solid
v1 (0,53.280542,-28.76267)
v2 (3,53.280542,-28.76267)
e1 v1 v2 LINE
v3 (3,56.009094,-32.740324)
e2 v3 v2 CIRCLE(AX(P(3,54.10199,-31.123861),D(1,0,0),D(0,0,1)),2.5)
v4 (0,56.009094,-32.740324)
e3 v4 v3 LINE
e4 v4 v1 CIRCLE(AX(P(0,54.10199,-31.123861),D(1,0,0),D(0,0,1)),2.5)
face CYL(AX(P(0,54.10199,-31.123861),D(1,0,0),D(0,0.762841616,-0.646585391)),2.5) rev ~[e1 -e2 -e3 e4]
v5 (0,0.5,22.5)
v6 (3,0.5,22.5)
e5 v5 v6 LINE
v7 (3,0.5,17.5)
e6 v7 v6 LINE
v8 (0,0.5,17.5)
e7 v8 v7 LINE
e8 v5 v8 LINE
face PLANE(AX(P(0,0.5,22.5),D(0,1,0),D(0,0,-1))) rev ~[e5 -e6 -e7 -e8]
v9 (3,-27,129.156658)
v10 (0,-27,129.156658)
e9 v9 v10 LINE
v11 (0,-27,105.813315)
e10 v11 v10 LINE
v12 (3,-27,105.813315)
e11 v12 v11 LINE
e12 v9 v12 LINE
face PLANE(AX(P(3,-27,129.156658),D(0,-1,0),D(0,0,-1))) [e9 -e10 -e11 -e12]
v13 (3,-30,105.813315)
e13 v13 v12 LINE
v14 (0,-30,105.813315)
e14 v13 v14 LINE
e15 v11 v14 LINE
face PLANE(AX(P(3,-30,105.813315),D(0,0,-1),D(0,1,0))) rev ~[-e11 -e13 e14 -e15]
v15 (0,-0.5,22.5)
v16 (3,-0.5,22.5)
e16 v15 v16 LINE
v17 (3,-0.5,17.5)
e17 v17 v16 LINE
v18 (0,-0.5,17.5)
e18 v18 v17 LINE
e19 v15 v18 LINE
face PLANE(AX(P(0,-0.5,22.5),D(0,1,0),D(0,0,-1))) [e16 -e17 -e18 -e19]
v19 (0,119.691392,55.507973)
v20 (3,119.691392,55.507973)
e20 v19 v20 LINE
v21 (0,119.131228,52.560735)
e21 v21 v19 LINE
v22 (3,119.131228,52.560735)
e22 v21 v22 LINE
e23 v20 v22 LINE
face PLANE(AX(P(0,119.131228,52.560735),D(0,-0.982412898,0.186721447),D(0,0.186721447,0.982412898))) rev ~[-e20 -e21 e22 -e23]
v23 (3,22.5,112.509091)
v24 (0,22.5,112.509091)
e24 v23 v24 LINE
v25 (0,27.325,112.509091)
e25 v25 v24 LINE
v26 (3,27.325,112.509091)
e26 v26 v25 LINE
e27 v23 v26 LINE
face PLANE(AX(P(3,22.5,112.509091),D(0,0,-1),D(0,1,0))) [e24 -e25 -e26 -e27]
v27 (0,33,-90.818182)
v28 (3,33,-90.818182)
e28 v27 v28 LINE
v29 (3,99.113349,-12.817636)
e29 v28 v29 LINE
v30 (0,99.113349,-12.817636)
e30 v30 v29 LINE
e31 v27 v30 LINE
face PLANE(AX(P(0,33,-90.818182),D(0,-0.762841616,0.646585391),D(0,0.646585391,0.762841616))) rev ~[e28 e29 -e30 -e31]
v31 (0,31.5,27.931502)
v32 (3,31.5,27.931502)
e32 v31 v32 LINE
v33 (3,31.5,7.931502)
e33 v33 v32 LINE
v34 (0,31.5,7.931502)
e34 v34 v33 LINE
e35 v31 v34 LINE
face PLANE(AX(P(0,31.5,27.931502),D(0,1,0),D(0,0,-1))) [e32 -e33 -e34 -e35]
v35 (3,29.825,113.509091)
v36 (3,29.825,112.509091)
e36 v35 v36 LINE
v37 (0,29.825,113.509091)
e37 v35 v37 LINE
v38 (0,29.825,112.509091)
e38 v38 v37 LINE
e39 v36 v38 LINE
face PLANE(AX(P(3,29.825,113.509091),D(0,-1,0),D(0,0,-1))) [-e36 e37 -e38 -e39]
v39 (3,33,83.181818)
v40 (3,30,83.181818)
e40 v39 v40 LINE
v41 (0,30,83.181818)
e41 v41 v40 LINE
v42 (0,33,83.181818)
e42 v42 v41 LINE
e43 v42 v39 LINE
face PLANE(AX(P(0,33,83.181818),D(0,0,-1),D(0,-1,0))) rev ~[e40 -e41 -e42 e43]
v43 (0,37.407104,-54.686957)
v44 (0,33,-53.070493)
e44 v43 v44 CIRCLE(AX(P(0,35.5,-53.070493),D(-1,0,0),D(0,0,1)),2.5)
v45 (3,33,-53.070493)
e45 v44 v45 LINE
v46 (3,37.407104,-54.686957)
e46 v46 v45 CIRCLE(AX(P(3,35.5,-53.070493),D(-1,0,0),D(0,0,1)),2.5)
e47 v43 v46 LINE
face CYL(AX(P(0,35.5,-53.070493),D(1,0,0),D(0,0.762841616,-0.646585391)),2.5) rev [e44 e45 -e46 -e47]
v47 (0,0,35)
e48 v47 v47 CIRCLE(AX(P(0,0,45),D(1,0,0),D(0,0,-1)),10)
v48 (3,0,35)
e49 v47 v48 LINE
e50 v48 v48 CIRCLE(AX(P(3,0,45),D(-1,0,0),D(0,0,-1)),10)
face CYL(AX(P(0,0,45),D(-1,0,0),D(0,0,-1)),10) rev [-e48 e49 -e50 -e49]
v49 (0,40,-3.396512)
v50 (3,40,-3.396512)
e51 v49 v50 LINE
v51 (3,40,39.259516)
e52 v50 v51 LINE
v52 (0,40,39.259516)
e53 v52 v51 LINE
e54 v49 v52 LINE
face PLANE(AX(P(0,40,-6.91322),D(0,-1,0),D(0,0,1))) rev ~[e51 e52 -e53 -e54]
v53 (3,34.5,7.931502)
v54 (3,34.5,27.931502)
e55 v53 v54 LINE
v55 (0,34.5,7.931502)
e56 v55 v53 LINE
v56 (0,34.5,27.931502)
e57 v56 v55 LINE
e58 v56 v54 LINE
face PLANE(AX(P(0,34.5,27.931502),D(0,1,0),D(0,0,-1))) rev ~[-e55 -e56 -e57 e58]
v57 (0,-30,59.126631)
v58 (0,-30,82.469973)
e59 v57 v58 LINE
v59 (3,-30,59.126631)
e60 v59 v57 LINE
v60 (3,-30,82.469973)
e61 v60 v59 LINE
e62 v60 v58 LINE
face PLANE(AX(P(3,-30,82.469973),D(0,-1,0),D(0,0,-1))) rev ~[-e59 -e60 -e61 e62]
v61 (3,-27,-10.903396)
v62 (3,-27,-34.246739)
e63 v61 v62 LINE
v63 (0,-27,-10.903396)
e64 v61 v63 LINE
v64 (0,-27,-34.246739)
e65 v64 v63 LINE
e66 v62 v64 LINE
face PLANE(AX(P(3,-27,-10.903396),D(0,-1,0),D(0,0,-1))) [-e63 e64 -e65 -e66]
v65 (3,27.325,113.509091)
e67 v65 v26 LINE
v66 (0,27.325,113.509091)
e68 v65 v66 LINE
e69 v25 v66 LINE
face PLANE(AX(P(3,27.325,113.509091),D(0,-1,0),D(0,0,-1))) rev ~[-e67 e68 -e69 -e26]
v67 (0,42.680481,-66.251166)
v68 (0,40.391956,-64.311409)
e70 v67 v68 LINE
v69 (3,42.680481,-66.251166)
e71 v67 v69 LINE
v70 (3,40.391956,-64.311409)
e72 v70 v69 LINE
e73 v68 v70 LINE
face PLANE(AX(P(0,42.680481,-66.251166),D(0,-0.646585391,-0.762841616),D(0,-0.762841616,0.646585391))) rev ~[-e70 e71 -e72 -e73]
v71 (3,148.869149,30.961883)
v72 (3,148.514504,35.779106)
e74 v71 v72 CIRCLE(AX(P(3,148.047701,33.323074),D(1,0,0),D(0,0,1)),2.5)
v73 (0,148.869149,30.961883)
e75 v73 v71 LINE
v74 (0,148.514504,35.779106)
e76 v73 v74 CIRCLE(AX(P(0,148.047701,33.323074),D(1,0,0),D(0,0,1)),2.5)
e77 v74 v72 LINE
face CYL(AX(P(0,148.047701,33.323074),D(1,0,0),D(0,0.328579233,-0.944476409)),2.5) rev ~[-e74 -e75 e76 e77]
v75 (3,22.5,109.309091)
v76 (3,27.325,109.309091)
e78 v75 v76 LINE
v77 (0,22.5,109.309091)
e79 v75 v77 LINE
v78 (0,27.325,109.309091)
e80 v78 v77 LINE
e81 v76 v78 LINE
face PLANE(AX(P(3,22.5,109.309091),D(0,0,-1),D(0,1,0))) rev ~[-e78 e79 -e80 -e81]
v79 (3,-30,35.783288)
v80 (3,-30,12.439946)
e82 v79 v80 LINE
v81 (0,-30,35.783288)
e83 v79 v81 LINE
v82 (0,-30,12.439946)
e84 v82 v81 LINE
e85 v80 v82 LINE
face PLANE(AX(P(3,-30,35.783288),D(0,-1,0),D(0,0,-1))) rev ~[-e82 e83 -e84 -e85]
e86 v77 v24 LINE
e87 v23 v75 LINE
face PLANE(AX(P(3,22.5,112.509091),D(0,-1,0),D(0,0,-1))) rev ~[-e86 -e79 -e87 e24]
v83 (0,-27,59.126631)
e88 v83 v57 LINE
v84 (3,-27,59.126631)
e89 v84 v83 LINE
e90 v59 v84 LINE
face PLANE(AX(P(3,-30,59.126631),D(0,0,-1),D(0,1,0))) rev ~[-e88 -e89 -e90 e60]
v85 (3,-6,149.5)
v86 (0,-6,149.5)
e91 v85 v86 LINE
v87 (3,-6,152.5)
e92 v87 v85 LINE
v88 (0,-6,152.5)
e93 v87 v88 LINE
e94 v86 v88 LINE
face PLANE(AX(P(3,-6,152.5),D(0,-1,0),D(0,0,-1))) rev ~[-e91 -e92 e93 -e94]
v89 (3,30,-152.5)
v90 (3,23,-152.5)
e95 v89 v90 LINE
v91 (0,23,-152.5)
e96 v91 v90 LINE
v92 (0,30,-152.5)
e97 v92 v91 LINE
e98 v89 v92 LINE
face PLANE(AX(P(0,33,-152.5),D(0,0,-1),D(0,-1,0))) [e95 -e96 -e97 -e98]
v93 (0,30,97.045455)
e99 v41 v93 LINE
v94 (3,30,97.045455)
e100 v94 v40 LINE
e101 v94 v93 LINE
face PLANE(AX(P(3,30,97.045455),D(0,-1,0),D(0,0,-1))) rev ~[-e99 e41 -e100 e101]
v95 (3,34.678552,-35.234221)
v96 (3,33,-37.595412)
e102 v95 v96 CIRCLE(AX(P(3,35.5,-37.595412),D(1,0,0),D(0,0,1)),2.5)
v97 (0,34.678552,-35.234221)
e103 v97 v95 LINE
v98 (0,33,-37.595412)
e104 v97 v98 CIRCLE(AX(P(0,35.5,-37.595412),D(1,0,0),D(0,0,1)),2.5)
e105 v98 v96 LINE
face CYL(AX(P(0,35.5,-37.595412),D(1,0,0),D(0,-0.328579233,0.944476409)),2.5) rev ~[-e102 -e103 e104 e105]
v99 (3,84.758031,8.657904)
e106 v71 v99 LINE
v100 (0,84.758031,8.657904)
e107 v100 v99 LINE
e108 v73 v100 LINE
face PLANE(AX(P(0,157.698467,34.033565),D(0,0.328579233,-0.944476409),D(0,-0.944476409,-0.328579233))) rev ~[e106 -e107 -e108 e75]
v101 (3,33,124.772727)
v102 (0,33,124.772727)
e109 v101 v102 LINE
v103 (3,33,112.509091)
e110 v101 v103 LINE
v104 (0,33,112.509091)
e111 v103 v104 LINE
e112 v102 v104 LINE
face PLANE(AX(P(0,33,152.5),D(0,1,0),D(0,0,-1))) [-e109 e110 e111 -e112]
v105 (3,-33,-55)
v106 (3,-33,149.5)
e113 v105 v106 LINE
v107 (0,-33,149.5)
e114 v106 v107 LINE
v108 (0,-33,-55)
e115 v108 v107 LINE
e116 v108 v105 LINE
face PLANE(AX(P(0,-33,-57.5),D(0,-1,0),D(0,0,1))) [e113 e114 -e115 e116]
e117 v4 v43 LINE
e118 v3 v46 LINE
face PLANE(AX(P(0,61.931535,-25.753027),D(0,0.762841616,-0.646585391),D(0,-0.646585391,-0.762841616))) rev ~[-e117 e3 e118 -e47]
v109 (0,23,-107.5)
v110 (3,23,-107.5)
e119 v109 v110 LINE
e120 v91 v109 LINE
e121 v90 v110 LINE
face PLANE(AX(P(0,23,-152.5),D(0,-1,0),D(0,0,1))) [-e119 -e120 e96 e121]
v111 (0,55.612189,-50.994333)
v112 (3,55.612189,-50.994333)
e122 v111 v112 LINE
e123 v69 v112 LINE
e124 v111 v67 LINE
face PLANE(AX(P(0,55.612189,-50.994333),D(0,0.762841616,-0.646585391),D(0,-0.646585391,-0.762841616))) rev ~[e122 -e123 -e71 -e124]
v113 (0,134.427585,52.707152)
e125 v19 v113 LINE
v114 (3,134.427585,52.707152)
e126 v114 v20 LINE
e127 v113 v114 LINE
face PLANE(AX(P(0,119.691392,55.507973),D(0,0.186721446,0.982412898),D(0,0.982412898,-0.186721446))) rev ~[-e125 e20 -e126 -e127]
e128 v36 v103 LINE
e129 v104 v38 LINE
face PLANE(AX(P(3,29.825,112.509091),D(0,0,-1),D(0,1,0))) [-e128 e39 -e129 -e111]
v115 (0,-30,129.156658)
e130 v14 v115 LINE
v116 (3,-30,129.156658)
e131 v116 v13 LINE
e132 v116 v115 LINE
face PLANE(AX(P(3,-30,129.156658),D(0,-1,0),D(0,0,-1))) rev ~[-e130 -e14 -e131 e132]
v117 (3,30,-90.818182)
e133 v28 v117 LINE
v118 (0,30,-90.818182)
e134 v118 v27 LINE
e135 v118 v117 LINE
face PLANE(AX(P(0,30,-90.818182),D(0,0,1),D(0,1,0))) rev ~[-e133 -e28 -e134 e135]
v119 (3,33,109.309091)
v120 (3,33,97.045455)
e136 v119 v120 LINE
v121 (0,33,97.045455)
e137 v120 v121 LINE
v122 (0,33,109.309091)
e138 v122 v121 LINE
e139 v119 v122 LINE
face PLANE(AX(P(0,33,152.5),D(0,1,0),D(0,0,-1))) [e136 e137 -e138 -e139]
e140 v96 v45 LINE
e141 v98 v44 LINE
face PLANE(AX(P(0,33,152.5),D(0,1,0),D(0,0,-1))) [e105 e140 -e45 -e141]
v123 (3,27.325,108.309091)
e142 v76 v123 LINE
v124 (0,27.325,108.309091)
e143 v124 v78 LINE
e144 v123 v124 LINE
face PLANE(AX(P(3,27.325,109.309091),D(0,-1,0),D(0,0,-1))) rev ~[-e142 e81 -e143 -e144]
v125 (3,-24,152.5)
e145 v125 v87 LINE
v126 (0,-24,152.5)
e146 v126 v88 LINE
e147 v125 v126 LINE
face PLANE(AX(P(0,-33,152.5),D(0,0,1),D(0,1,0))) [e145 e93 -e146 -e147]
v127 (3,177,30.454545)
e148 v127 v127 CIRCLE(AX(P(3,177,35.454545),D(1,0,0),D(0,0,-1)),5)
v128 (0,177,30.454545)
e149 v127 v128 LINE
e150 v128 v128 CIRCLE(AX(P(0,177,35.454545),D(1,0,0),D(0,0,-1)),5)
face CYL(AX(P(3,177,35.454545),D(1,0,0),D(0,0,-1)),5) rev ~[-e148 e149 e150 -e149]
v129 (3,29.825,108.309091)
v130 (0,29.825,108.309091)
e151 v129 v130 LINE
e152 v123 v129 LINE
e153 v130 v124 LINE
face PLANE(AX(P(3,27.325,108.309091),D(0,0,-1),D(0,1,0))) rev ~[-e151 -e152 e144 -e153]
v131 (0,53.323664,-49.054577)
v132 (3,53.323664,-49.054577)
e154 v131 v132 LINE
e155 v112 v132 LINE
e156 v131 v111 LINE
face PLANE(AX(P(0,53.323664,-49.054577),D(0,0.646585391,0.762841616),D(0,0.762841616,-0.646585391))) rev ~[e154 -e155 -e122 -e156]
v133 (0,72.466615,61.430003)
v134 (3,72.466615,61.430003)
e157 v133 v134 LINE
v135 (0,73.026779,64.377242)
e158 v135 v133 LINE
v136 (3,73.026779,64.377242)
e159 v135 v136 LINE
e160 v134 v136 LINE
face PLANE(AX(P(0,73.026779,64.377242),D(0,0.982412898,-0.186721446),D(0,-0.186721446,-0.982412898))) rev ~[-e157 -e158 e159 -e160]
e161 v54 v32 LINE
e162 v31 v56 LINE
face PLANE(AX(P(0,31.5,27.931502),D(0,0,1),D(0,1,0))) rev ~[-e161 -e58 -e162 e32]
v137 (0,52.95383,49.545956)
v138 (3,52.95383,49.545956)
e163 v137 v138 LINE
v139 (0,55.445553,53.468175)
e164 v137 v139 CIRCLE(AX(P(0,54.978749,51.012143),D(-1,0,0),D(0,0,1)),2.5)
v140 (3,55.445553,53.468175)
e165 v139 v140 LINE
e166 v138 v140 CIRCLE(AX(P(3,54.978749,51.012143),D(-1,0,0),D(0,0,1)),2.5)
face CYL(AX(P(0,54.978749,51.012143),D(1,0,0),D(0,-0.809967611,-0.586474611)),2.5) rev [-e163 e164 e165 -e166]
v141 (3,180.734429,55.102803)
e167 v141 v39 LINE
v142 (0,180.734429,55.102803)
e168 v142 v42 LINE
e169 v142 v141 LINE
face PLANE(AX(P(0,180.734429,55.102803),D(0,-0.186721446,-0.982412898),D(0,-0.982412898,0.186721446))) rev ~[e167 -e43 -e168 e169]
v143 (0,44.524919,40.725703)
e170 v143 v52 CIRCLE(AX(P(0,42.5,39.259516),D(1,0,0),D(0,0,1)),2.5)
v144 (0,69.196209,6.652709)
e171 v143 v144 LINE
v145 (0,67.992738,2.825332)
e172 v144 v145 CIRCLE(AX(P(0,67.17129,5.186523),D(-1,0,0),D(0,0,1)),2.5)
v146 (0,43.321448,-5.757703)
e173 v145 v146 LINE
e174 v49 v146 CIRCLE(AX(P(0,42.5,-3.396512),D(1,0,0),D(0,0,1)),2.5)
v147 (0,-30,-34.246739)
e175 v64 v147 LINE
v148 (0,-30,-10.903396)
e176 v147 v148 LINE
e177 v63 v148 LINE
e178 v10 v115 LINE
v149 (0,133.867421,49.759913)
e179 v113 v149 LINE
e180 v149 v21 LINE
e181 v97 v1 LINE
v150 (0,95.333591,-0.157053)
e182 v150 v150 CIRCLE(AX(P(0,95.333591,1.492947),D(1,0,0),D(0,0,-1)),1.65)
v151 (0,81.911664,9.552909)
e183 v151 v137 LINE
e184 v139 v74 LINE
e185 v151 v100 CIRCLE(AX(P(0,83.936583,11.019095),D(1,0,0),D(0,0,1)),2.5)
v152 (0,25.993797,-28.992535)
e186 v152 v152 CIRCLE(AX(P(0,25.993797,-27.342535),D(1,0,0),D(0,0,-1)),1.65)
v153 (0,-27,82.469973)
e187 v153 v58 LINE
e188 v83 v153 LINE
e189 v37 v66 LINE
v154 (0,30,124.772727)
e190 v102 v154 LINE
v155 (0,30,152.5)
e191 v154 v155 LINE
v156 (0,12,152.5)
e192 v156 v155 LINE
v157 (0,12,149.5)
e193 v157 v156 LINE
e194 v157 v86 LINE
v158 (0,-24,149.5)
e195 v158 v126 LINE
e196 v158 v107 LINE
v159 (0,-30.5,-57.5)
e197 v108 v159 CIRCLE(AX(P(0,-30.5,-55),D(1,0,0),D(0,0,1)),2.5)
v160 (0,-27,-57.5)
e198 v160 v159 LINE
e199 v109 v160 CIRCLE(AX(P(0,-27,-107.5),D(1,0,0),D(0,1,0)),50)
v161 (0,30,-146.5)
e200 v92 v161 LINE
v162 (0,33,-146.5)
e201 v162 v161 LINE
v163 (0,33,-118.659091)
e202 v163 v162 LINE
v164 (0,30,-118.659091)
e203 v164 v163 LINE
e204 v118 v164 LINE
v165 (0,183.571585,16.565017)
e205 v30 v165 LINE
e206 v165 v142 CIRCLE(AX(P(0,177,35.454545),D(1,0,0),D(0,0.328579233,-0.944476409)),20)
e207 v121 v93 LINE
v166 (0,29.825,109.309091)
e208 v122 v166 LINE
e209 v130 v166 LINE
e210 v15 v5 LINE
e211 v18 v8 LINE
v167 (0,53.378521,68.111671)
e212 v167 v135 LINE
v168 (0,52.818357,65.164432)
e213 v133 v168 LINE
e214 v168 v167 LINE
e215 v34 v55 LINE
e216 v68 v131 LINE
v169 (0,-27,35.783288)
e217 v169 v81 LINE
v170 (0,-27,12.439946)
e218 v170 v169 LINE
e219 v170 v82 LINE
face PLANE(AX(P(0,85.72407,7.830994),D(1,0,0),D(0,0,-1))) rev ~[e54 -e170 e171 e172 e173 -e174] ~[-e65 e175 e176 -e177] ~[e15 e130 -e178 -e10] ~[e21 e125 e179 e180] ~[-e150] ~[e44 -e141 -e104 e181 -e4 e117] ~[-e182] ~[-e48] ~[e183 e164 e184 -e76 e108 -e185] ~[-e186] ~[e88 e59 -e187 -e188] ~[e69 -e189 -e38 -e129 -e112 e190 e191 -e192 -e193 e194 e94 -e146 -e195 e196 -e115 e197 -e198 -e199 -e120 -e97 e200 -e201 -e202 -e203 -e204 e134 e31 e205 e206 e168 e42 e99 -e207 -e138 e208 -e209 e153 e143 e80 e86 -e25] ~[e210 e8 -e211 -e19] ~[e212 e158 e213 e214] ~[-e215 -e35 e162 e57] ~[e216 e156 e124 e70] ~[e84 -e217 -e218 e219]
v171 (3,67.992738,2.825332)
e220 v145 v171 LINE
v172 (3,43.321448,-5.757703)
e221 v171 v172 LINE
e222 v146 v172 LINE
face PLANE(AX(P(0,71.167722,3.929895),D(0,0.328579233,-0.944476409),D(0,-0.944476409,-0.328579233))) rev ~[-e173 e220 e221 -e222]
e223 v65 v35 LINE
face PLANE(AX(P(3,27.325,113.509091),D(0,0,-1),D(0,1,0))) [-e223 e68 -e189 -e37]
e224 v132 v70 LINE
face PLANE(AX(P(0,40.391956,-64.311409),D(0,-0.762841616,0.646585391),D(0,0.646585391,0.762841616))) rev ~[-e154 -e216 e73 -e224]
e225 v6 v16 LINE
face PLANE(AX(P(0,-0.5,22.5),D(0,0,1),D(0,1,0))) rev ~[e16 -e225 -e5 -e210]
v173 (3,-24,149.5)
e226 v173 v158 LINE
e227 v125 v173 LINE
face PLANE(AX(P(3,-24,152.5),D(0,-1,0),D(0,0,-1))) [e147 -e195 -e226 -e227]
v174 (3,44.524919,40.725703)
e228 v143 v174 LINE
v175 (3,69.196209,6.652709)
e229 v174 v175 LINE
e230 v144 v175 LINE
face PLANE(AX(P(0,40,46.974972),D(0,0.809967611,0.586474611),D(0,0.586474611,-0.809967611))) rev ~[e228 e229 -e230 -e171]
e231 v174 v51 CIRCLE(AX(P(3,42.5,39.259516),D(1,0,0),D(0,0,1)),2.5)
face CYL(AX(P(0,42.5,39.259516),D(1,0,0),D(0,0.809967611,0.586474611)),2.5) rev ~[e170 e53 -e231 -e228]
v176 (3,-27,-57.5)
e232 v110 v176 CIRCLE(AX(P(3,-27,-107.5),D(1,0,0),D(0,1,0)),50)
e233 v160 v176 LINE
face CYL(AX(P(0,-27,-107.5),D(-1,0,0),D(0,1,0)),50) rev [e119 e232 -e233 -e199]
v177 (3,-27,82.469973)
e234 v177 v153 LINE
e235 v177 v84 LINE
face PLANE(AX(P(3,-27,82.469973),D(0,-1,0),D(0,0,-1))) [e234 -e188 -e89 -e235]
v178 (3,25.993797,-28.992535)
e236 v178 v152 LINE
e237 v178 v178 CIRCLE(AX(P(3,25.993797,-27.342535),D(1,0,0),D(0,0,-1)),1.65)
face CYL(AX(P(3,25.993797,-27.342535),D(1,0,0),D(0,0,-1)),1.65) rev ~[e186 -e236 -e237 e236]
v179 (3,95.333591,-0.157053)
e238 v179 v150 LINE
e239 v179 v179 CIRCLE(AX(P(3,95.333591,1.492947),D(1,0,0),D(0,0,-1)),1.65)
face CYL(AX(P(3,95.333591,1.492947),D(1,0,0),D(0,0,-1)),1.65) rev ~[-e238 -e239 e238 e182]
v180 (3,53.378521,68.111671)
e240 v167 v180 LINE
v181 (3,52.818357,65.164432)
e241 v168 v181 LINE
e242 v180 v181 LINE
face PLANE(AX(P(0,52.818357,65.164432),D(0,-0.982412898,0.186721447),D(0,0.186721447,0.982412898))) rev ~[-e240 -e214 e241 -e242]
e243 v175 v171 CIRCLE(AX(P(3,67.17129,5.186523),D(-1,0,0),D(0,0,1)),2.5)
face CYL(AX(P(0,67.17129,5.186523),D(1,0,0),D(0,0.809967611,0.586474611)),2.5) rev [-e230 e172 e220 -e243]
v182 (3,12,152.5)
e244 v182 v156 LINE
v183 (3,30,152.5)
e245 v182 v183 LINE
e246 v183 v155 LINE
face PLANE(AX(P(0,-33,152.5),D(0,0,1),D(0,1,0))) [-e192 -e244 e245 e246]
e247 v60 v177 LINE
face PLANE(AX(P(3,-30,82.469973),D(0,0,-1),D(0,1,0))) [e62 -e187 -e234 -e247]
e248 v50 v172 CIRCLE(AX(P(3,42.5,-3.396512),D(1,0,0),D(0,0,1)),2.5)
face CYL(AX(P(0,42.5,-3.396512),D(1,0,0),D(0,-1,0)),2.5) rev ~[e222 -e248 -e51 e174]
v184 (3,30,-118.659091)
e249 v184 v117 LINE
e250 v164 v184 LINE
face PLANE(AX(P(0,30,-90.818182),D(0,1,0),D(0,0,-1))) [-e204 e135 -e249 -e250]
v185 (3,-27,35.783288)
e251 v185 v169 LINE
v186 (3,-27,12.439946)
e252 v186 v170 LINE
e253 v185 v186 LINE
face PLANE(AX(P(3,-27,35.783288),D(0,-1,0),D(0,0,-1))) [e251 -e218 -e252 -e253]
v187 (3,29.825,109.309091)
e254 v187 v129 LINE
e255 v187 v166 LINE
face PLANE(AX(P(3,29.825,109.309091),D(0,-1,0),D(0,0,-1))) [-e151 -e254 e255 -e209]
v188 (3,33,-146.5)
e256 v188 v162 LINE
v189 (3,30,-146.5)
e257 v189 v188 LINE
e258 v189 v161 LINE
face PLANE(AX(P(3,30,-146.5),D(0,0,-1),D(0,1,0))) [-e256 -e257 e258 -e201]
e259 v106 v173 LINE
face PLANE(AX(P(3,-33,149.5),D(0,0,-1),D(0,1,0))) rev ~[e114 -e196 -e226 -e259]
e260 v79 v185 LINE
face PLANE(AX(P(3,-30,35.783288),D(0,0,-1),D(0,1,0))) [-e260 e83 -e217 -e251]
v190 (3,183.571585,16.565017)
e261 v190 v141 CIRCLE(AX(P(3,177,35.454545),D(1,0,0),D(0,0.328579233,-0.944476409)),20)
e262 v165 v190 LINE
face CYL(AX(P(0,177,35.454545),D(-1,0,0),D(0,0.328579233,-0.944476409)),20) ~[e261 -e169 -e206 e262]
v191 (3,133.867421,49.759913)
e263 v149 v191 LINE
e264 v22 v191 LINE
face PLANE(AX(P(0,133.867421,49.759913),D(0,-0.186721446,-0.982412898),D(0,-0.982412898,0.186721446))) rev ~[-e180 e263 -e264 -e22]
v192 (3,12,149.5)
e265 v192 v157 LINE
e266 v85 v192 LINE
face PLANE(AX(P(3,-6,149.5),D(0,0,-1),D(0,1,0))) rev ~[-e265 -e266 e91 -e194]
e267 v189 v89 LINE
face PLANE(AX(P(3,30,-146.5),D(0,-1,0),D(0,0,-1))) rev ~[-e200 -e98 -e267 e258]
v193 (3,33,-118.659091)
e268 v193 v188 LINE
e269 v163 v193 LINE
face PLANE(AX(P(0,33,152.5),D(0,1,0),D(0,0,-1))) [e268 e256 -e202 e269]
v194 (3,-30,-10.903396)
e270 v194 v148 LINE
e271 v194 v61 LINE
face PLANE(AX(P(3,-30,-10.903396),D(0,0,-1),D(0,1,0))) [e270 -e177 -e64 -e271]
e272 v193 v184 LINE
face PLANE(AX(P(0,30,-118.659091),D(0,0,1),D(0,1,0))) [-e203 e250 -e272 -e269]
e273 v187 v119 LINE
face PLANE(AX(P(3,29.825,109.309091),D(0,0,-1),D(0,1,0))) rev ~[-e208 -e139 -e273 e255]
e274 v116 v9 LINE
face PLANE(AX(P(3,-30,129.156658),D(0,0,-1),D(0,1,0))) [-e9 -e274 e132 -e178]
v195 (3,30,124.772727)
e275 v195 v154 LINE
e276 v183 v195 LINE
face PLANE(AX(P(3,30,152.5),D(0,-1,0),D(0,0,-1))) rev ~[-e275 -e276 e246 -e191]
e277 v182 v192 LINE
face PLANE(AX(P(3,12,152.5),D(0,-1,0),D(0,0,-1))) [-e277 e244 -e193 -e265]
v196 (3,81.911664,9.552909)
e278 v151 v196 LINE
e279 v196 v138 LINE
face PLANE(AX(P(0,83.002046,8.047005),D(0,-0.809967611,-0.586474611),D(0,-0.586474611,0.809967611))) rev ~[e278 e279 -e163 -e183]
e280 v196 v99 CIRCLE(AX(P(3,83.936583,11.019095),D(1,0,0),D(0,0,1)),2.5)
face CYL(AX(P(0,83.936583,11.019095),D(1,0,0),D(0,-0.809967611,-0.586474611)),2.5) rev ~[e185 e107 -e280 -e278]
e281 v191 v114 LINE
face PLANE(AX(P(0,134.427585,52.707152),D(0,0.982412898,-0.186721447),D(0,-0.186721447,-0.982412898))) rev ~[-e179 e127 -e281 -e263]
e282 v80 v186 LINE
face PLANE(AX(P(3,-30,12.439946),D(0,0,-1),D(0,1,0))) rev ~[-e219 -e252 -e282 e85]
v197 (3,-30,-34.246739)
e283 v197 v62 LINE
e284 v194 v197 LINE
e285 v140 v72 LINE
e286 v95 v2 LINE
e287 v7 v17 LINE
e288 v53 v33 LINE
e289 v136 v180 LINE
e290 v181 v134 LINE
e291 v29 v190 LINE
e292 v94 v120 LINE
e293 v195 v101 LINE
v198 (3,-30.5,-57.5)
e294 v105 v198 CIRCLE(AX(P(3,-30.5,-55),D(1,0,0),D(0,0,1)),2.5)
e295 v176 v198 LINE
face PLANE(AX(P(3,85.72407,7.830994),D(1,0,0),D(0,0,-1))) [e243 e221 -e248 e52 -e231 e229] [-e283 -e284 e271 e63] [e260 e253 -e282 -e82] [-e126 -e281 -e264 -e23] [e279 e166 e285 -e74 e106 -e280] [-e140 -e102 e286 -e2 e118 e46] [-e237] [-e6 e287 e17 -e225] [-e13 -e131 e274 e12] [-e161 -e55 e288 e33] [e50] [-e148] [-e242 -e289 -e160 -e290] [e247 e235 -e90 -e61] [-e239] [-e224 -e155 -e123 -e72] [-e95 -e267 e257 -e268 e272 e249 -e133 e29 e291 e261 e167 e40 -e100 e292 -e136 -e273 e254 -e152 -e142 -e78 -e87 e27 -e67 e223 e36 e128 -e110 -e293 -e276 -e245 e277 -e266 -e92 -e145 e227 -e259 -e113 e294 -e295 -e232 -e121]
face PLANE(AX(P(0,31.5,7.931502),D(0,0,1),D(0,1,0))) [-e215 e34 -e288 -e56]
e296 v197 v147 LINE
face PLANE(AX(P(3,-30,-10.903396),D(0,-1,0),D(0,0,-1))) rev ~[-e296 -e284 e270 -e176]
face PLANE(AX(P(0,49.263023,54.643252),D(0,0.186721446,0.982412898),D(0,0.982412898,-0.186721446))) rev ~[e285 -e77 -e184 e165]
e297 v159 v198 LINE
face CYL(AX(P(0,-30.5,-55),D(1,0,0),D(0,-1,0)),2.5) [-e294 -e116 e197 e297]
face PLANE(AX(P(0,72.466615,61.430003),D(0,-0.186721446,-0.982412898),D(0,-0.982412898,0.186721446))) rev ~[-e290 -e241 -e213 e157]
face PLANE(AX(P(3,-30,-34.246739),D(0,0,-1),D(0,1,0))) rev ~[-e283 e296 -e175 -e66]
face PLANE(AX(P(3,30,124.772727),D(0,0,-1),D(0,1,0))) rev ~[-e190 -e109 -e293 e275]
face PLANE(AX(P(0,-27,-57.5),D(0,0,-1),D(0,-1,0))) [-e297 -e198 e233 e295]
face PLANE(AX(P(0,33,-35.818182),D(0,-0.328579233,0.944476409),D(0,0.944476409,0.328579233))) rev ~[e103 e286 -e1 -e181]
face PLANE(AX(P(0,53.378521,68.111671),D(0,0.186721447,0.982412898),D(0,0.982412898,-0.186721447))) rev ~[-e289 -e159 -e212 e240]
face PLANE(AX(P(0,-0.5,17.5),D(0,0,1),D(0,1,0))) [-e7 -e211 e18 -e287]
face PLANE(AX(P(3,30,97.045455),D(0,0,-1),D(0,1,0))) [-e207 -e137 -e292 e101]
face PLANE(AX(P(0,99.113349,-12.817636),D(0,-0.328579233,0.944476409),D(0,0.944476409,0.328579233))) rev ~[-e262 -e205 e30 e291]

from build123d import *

# Parameters (mm, degrees)
BOSS_EXTRUDE1_DEPTH     = 3
SKETCH2_W               = 27.727272727
SKETCH2_H               = 3
SKETCH2_W_2             = 3
SKETCH2_H_2             = 18
SKETCH2_H_3             = 9
SKETCH2_W_3             = 23.343342349
SKETCH2_W_4             = 23.34334235
SKETCH2_W_5             = 6
CUT_EXTRUDE1_DEPTH      = 1
CUT_EXTRUDE1_DEPTH_BACK = 4
SKETCH3_W               = 3.2
SKETCH3_H               = 10.5
SKETCH3_W_2             = 5.2
SKETCH3_H_2             = 2.5
CUT_EXTRUDE2_DEPTH      = 1
CUT_EXTRUDE2_DEPTH_BACK = 4
FILLET1_R               = 2.5
BOSS_EXTRUDE2_DEPTH     = 3
FILLET2_R               = 2.5
SKETCH6_R               = 5
SKETCH6_R_2             = 1.65
CUT_EXTRUDE5_DEPTH      = 1
CUT_EXTRUDE5_DEPTH_BACK = 4
SKETCH8_R               = 10
SKETCH8_W               = 5
SKETCH8_H               = 1
CUT_EXTRUDE6_DEPTH      = 4
CUT_EXTRUDE6_DEPTH_BACK = 1
SKETCH9_W               = 20
SKETCH9_H               = 3
CUT_EXTRUDE7_DEPTH      = 4
CUT_EXTRUDE7_DEPTH_BACK = 1
SKETCH10_W              = 27.840909091
SKETCH10_H              = 3
CUT_EXTRUDE8_DEPTH      = 4
CUT_EXTRUDE8_DEPTH_BACK = 1


with BuildPart() as part:
    # Sketch1 → Boss-Extrude1 (new body)
    with BuildSketch(Plane(origin=(0, 0, 0), x_dir=(0, 0, -1), z_dir=(1, 0, 0))):
        with BuildLine():
            Line((-152.5, 33), (152.5, 33))
            Line((152.5, 33), (152.5, 23))
            Line((152.5, 23), (107.5, 23))
            ThreePointArc((107.5, 23), (72.144660941, 8.355339059), (57.5, -27))
            Line((57.5, -27), (57.5, -33))
            Line((57.5, -33), (-152.5, -33))
            Line((-152.5, -33), (-152.5, 33))
        make_face()
    extrude(amount=BOSS_EXTRUDE1_DEPTH)

    # Sketch2 → Cut-Extrude1 (cut, two sides)
    with BuildSketch(Plane(origin=(3, 0, 0), x_dir=(0, 0, -1), z_dir=(1, 0, 0))) as cut_extrude1_sk:
        with Locations((-138.636363636, 31.5)):
            Rectangle(SKETCH2_W, SKETCH2_H)
        with Locations((-83.181818182, 31.5)):
            Rectangle(SKETCH2_W, SKETCH2_H)
        with Locations((-27.727272728, 31.5)):
            Rectangle(SKETCH2_W, SKETCH2_H)
        with Locations((-151, 3)):
            Rectangle(SKETCH2_W_2, SKETCH2_H_2)
        with Locations((-151, -28.5)):
            Rectangle(SKETCH2_W_2, SKETCH2_H_3)
        with Locations((-117.484986475, -28.5)):
            Rectangle(SKETCH2_W_3, SKETCH2_H)
        with Locations((-70.798301777, -28.5)):
            Rectangle(SKETCH2_W_3, SKETCH2_H)
        with Locations((22.575067622, -28.5)):
            Rectangle(SKETCH2_W_4, SKETCH2_H)
        with Locations((149.5, 31.5)):
            Rectangle(SKETCH2_W_5, SKETCH2_H)
        with Locations((-24.111617078, -28.5)):
            Rectangle(SKETCH2_W_3, SKETCH2_H)
    extrude(amount=CUT_EXTRUDE1_DEPTH, mode=Mode.SUBTRACT)
    extrude(cut_extrude1_sk.sketch, amount=-CUT_EXTRUDE1_DEPTH_BACK, mode=Mode.SUBTRACT)

    # Sketch3 → Cut-Extrude2 (cut, two sides)
    with BuildSketch(Plane(origin=(3, 0, 0), x_dir=(0, 0, -1), z_dir=(1, 0, 0))) as cut_extrude2_sk:
        with Locations((-110.909090909, 27.75)):
            Rectangle(SKETCH3_W, SKETCH3_H)
        with Locations((-110.909090909, 28.575)):
            Rectangle(SKETCH3_W_2, SKETCH3_H_2)
    extrude(amount=CUT_EXTRUDE2_DEPTH, mode=Mode.SUBTRACT)
    extrude(cut_extrude2_sk.sketch, amount=-CUT_EXTRUDE2_DEPTH_BACK, mode=Mode.SUBTRACT)

    # Fillet1
    fillet1_edges = [part.edges().sort_by_distance(p)[0] for p in [
        (1.5, -33, -57.5),
    ]]
    fillet(fillet1_edges, radius=FILLET1_R)

    # Sketch4 → Boss-Extrude2 (add)
    with BuildSketch(Plane(origin=(0, 0, 0), x_dir=(0, 0, -1), z_dir=(1, 0, 0))):
        with BuildLine():
            Line((-83.181818182, 33), (-83.181818182, 30))
            Line((-83.181818182, 30), (35.818181818, 30))
            Line((35.818181818, 30), (35.818181818, 33))
            Line((35.818181818, 33), (25.753026775, 61.931534749))
            Line((25.753026775, 61.931534749), (59.886459158, 33))
            Line((59.886459158, 33), (90.818181818, 33))
            Line((90.818181818, 33), (12.817635516, 99.113348651))
            Line((12.817635516, 99.113348651), (-16.565017269, 183.571584658))
            ThreePointArc((-16.565017269, 183.571584658), (-36.922973482, 196.946020133), (-55.102803407, 180.73442893))
            Line((-55.102803407, 180.73442893), (-83.181818182, 33))
        make_face()
        Polygon((-54.643252411, 49.263022537), (-34.033564648, 157.698467174), (-8.047004759, 83.002045982), align=None, mode=Mode.SUBTRACT)
        Polygon((-3.929894771, 71.167721507), (6.913219914, 40), (-46.974972009, 40), align=None, mode=Mode.SUBTRACT)
    extrude(amount=BOSS_EXTRUDE2_DEPTH)

    # Fillet2
    fillet2_edges = [part.edges().sort_by_distance(p)[0] for p in [
        (1.5, 33, -59.886459158),
        (1.5, 61.931534749, -25.753026775),
        (1.5, 33, -35.818181818),
        (1.5, 40, -6.913219914),
        (1.5, 71.167721507, 3.929894771),
        (1.5, 40, 46.974972009),
        (1.5, 49.263022537, 54.643252411),
        (1.5, 83.002045982, 8.047004759),
        (1.5, 157.698467174, 34.033564648),
    ]]
    fillet(fillet2_edges, radius=FILLET2_R)

    # Sketch6 → Cut-Extrude5 (cut, two sides)
    with BuildSketch(Plane(origin=(3, 0, 0), x_dir=(0, 0, -1), z_dir=(1, 0, 0))) as cut_extrude5_sk:
        with Locations((-35.454545455, 177)):
            Circle(SKETCH6_R)
        with Locations((-1.492946709, 95.333591431)):
            Circle(SKETCH6_R_2)
        with Locations((27.342535354, 25.993797473)):
            Circle(SKETCH6_R_2)
    extrude(amount=CUT_EXTRUDE5_DEPTH, mode=Mode.SUBTRACT)
    extrude(cut_extrude5_sk.sketch, amount=-CUT_EXTRUDE5_DEPTH_BACK, mode=Mode.SUBTRACT)

    # Sketch8 → Cut-Extrude6 (cut, two sides)
    with BuildSketch(Plane(origin=(0, 0, 0), x_dir=(0, 0, -1), z_dir=(1, 0, 0))) as cut_extrude6_sk:
        with Locations((-45, 0)):
            Circle(SKETCH8_R)
        with Locations((-20, 0)):
            Rectangle(SKETCH8_W, SKETCH8_H)
    extrude(amount=CUT_EXTRUDE6_DEPTH, mode=Mode.SUBTRACT)
    extrude(cut_extrude6_sk.sketch, amount=-CUT_EXTRUDE6_DEPTH_BACK, mode=Mode.SUBTRACT)

    # Sketch9 → Cut-Extrude7 (cut, two sides)
    with BuildSketch(Plane(origin=(0, 0, 0), x_dir=(0, 0, -1), z_dir=(1, 0, 0))) as cut_extrude7_sk:
        Polygon((-68.111670983, 53.378521315), (-64.377242053, 73.026779267), (-61.43000336, 72.466614928), (-65.16443229, 52.818356975), align=None)
        Polygon((-55.507973344, 119.691391905), (-52.707151647, 134.427585369), (-49.759912954, 133.867421029), (-52.560734651, 119.131227565), align=None)
        Polygon((64.311409407, 40.391956194), (49.054577079, 53.32366402), (50.994333253, 55.612188869), (66.251165581, 42.680481043), align=None)
        with Locations((-17.931502251, 33)):
            Rectangle(SKETCH9_W, SKETCH9_H)
    extrude(amount=CUT_EXTRUDE7_DEPTH, mode=Mode.SUBTRACT)
    extrude(cut_extrude7_sk.sketch, amount=-CUT_EXTRUDE7_DEPTH_BACK, mode=Mode.SUBTRACT)

    # Sketch10 → Cut-Extrude8 (cut, two sides)
    with BuildSketch(Plane(origin=(0, 0, 0), x_dir=(0, 0, -1), z_dir=(1, 0, 0))) as cut_extrude8_sk:
        with Locations((104.738636364, 31.5)):
            Rectangle(SKETCH10_W, SKETCH10_H)
    extrude(amount=CUT_EXTRUDE8_DEPTH, mode=Mode.SUBTRACT)
    extrude(cut_extrude8_sk.sketch, amount=-CUT_EXTRUDE8_DEPTH_BACK, mode=Mode.SUBTRACT)


solid = part.part
